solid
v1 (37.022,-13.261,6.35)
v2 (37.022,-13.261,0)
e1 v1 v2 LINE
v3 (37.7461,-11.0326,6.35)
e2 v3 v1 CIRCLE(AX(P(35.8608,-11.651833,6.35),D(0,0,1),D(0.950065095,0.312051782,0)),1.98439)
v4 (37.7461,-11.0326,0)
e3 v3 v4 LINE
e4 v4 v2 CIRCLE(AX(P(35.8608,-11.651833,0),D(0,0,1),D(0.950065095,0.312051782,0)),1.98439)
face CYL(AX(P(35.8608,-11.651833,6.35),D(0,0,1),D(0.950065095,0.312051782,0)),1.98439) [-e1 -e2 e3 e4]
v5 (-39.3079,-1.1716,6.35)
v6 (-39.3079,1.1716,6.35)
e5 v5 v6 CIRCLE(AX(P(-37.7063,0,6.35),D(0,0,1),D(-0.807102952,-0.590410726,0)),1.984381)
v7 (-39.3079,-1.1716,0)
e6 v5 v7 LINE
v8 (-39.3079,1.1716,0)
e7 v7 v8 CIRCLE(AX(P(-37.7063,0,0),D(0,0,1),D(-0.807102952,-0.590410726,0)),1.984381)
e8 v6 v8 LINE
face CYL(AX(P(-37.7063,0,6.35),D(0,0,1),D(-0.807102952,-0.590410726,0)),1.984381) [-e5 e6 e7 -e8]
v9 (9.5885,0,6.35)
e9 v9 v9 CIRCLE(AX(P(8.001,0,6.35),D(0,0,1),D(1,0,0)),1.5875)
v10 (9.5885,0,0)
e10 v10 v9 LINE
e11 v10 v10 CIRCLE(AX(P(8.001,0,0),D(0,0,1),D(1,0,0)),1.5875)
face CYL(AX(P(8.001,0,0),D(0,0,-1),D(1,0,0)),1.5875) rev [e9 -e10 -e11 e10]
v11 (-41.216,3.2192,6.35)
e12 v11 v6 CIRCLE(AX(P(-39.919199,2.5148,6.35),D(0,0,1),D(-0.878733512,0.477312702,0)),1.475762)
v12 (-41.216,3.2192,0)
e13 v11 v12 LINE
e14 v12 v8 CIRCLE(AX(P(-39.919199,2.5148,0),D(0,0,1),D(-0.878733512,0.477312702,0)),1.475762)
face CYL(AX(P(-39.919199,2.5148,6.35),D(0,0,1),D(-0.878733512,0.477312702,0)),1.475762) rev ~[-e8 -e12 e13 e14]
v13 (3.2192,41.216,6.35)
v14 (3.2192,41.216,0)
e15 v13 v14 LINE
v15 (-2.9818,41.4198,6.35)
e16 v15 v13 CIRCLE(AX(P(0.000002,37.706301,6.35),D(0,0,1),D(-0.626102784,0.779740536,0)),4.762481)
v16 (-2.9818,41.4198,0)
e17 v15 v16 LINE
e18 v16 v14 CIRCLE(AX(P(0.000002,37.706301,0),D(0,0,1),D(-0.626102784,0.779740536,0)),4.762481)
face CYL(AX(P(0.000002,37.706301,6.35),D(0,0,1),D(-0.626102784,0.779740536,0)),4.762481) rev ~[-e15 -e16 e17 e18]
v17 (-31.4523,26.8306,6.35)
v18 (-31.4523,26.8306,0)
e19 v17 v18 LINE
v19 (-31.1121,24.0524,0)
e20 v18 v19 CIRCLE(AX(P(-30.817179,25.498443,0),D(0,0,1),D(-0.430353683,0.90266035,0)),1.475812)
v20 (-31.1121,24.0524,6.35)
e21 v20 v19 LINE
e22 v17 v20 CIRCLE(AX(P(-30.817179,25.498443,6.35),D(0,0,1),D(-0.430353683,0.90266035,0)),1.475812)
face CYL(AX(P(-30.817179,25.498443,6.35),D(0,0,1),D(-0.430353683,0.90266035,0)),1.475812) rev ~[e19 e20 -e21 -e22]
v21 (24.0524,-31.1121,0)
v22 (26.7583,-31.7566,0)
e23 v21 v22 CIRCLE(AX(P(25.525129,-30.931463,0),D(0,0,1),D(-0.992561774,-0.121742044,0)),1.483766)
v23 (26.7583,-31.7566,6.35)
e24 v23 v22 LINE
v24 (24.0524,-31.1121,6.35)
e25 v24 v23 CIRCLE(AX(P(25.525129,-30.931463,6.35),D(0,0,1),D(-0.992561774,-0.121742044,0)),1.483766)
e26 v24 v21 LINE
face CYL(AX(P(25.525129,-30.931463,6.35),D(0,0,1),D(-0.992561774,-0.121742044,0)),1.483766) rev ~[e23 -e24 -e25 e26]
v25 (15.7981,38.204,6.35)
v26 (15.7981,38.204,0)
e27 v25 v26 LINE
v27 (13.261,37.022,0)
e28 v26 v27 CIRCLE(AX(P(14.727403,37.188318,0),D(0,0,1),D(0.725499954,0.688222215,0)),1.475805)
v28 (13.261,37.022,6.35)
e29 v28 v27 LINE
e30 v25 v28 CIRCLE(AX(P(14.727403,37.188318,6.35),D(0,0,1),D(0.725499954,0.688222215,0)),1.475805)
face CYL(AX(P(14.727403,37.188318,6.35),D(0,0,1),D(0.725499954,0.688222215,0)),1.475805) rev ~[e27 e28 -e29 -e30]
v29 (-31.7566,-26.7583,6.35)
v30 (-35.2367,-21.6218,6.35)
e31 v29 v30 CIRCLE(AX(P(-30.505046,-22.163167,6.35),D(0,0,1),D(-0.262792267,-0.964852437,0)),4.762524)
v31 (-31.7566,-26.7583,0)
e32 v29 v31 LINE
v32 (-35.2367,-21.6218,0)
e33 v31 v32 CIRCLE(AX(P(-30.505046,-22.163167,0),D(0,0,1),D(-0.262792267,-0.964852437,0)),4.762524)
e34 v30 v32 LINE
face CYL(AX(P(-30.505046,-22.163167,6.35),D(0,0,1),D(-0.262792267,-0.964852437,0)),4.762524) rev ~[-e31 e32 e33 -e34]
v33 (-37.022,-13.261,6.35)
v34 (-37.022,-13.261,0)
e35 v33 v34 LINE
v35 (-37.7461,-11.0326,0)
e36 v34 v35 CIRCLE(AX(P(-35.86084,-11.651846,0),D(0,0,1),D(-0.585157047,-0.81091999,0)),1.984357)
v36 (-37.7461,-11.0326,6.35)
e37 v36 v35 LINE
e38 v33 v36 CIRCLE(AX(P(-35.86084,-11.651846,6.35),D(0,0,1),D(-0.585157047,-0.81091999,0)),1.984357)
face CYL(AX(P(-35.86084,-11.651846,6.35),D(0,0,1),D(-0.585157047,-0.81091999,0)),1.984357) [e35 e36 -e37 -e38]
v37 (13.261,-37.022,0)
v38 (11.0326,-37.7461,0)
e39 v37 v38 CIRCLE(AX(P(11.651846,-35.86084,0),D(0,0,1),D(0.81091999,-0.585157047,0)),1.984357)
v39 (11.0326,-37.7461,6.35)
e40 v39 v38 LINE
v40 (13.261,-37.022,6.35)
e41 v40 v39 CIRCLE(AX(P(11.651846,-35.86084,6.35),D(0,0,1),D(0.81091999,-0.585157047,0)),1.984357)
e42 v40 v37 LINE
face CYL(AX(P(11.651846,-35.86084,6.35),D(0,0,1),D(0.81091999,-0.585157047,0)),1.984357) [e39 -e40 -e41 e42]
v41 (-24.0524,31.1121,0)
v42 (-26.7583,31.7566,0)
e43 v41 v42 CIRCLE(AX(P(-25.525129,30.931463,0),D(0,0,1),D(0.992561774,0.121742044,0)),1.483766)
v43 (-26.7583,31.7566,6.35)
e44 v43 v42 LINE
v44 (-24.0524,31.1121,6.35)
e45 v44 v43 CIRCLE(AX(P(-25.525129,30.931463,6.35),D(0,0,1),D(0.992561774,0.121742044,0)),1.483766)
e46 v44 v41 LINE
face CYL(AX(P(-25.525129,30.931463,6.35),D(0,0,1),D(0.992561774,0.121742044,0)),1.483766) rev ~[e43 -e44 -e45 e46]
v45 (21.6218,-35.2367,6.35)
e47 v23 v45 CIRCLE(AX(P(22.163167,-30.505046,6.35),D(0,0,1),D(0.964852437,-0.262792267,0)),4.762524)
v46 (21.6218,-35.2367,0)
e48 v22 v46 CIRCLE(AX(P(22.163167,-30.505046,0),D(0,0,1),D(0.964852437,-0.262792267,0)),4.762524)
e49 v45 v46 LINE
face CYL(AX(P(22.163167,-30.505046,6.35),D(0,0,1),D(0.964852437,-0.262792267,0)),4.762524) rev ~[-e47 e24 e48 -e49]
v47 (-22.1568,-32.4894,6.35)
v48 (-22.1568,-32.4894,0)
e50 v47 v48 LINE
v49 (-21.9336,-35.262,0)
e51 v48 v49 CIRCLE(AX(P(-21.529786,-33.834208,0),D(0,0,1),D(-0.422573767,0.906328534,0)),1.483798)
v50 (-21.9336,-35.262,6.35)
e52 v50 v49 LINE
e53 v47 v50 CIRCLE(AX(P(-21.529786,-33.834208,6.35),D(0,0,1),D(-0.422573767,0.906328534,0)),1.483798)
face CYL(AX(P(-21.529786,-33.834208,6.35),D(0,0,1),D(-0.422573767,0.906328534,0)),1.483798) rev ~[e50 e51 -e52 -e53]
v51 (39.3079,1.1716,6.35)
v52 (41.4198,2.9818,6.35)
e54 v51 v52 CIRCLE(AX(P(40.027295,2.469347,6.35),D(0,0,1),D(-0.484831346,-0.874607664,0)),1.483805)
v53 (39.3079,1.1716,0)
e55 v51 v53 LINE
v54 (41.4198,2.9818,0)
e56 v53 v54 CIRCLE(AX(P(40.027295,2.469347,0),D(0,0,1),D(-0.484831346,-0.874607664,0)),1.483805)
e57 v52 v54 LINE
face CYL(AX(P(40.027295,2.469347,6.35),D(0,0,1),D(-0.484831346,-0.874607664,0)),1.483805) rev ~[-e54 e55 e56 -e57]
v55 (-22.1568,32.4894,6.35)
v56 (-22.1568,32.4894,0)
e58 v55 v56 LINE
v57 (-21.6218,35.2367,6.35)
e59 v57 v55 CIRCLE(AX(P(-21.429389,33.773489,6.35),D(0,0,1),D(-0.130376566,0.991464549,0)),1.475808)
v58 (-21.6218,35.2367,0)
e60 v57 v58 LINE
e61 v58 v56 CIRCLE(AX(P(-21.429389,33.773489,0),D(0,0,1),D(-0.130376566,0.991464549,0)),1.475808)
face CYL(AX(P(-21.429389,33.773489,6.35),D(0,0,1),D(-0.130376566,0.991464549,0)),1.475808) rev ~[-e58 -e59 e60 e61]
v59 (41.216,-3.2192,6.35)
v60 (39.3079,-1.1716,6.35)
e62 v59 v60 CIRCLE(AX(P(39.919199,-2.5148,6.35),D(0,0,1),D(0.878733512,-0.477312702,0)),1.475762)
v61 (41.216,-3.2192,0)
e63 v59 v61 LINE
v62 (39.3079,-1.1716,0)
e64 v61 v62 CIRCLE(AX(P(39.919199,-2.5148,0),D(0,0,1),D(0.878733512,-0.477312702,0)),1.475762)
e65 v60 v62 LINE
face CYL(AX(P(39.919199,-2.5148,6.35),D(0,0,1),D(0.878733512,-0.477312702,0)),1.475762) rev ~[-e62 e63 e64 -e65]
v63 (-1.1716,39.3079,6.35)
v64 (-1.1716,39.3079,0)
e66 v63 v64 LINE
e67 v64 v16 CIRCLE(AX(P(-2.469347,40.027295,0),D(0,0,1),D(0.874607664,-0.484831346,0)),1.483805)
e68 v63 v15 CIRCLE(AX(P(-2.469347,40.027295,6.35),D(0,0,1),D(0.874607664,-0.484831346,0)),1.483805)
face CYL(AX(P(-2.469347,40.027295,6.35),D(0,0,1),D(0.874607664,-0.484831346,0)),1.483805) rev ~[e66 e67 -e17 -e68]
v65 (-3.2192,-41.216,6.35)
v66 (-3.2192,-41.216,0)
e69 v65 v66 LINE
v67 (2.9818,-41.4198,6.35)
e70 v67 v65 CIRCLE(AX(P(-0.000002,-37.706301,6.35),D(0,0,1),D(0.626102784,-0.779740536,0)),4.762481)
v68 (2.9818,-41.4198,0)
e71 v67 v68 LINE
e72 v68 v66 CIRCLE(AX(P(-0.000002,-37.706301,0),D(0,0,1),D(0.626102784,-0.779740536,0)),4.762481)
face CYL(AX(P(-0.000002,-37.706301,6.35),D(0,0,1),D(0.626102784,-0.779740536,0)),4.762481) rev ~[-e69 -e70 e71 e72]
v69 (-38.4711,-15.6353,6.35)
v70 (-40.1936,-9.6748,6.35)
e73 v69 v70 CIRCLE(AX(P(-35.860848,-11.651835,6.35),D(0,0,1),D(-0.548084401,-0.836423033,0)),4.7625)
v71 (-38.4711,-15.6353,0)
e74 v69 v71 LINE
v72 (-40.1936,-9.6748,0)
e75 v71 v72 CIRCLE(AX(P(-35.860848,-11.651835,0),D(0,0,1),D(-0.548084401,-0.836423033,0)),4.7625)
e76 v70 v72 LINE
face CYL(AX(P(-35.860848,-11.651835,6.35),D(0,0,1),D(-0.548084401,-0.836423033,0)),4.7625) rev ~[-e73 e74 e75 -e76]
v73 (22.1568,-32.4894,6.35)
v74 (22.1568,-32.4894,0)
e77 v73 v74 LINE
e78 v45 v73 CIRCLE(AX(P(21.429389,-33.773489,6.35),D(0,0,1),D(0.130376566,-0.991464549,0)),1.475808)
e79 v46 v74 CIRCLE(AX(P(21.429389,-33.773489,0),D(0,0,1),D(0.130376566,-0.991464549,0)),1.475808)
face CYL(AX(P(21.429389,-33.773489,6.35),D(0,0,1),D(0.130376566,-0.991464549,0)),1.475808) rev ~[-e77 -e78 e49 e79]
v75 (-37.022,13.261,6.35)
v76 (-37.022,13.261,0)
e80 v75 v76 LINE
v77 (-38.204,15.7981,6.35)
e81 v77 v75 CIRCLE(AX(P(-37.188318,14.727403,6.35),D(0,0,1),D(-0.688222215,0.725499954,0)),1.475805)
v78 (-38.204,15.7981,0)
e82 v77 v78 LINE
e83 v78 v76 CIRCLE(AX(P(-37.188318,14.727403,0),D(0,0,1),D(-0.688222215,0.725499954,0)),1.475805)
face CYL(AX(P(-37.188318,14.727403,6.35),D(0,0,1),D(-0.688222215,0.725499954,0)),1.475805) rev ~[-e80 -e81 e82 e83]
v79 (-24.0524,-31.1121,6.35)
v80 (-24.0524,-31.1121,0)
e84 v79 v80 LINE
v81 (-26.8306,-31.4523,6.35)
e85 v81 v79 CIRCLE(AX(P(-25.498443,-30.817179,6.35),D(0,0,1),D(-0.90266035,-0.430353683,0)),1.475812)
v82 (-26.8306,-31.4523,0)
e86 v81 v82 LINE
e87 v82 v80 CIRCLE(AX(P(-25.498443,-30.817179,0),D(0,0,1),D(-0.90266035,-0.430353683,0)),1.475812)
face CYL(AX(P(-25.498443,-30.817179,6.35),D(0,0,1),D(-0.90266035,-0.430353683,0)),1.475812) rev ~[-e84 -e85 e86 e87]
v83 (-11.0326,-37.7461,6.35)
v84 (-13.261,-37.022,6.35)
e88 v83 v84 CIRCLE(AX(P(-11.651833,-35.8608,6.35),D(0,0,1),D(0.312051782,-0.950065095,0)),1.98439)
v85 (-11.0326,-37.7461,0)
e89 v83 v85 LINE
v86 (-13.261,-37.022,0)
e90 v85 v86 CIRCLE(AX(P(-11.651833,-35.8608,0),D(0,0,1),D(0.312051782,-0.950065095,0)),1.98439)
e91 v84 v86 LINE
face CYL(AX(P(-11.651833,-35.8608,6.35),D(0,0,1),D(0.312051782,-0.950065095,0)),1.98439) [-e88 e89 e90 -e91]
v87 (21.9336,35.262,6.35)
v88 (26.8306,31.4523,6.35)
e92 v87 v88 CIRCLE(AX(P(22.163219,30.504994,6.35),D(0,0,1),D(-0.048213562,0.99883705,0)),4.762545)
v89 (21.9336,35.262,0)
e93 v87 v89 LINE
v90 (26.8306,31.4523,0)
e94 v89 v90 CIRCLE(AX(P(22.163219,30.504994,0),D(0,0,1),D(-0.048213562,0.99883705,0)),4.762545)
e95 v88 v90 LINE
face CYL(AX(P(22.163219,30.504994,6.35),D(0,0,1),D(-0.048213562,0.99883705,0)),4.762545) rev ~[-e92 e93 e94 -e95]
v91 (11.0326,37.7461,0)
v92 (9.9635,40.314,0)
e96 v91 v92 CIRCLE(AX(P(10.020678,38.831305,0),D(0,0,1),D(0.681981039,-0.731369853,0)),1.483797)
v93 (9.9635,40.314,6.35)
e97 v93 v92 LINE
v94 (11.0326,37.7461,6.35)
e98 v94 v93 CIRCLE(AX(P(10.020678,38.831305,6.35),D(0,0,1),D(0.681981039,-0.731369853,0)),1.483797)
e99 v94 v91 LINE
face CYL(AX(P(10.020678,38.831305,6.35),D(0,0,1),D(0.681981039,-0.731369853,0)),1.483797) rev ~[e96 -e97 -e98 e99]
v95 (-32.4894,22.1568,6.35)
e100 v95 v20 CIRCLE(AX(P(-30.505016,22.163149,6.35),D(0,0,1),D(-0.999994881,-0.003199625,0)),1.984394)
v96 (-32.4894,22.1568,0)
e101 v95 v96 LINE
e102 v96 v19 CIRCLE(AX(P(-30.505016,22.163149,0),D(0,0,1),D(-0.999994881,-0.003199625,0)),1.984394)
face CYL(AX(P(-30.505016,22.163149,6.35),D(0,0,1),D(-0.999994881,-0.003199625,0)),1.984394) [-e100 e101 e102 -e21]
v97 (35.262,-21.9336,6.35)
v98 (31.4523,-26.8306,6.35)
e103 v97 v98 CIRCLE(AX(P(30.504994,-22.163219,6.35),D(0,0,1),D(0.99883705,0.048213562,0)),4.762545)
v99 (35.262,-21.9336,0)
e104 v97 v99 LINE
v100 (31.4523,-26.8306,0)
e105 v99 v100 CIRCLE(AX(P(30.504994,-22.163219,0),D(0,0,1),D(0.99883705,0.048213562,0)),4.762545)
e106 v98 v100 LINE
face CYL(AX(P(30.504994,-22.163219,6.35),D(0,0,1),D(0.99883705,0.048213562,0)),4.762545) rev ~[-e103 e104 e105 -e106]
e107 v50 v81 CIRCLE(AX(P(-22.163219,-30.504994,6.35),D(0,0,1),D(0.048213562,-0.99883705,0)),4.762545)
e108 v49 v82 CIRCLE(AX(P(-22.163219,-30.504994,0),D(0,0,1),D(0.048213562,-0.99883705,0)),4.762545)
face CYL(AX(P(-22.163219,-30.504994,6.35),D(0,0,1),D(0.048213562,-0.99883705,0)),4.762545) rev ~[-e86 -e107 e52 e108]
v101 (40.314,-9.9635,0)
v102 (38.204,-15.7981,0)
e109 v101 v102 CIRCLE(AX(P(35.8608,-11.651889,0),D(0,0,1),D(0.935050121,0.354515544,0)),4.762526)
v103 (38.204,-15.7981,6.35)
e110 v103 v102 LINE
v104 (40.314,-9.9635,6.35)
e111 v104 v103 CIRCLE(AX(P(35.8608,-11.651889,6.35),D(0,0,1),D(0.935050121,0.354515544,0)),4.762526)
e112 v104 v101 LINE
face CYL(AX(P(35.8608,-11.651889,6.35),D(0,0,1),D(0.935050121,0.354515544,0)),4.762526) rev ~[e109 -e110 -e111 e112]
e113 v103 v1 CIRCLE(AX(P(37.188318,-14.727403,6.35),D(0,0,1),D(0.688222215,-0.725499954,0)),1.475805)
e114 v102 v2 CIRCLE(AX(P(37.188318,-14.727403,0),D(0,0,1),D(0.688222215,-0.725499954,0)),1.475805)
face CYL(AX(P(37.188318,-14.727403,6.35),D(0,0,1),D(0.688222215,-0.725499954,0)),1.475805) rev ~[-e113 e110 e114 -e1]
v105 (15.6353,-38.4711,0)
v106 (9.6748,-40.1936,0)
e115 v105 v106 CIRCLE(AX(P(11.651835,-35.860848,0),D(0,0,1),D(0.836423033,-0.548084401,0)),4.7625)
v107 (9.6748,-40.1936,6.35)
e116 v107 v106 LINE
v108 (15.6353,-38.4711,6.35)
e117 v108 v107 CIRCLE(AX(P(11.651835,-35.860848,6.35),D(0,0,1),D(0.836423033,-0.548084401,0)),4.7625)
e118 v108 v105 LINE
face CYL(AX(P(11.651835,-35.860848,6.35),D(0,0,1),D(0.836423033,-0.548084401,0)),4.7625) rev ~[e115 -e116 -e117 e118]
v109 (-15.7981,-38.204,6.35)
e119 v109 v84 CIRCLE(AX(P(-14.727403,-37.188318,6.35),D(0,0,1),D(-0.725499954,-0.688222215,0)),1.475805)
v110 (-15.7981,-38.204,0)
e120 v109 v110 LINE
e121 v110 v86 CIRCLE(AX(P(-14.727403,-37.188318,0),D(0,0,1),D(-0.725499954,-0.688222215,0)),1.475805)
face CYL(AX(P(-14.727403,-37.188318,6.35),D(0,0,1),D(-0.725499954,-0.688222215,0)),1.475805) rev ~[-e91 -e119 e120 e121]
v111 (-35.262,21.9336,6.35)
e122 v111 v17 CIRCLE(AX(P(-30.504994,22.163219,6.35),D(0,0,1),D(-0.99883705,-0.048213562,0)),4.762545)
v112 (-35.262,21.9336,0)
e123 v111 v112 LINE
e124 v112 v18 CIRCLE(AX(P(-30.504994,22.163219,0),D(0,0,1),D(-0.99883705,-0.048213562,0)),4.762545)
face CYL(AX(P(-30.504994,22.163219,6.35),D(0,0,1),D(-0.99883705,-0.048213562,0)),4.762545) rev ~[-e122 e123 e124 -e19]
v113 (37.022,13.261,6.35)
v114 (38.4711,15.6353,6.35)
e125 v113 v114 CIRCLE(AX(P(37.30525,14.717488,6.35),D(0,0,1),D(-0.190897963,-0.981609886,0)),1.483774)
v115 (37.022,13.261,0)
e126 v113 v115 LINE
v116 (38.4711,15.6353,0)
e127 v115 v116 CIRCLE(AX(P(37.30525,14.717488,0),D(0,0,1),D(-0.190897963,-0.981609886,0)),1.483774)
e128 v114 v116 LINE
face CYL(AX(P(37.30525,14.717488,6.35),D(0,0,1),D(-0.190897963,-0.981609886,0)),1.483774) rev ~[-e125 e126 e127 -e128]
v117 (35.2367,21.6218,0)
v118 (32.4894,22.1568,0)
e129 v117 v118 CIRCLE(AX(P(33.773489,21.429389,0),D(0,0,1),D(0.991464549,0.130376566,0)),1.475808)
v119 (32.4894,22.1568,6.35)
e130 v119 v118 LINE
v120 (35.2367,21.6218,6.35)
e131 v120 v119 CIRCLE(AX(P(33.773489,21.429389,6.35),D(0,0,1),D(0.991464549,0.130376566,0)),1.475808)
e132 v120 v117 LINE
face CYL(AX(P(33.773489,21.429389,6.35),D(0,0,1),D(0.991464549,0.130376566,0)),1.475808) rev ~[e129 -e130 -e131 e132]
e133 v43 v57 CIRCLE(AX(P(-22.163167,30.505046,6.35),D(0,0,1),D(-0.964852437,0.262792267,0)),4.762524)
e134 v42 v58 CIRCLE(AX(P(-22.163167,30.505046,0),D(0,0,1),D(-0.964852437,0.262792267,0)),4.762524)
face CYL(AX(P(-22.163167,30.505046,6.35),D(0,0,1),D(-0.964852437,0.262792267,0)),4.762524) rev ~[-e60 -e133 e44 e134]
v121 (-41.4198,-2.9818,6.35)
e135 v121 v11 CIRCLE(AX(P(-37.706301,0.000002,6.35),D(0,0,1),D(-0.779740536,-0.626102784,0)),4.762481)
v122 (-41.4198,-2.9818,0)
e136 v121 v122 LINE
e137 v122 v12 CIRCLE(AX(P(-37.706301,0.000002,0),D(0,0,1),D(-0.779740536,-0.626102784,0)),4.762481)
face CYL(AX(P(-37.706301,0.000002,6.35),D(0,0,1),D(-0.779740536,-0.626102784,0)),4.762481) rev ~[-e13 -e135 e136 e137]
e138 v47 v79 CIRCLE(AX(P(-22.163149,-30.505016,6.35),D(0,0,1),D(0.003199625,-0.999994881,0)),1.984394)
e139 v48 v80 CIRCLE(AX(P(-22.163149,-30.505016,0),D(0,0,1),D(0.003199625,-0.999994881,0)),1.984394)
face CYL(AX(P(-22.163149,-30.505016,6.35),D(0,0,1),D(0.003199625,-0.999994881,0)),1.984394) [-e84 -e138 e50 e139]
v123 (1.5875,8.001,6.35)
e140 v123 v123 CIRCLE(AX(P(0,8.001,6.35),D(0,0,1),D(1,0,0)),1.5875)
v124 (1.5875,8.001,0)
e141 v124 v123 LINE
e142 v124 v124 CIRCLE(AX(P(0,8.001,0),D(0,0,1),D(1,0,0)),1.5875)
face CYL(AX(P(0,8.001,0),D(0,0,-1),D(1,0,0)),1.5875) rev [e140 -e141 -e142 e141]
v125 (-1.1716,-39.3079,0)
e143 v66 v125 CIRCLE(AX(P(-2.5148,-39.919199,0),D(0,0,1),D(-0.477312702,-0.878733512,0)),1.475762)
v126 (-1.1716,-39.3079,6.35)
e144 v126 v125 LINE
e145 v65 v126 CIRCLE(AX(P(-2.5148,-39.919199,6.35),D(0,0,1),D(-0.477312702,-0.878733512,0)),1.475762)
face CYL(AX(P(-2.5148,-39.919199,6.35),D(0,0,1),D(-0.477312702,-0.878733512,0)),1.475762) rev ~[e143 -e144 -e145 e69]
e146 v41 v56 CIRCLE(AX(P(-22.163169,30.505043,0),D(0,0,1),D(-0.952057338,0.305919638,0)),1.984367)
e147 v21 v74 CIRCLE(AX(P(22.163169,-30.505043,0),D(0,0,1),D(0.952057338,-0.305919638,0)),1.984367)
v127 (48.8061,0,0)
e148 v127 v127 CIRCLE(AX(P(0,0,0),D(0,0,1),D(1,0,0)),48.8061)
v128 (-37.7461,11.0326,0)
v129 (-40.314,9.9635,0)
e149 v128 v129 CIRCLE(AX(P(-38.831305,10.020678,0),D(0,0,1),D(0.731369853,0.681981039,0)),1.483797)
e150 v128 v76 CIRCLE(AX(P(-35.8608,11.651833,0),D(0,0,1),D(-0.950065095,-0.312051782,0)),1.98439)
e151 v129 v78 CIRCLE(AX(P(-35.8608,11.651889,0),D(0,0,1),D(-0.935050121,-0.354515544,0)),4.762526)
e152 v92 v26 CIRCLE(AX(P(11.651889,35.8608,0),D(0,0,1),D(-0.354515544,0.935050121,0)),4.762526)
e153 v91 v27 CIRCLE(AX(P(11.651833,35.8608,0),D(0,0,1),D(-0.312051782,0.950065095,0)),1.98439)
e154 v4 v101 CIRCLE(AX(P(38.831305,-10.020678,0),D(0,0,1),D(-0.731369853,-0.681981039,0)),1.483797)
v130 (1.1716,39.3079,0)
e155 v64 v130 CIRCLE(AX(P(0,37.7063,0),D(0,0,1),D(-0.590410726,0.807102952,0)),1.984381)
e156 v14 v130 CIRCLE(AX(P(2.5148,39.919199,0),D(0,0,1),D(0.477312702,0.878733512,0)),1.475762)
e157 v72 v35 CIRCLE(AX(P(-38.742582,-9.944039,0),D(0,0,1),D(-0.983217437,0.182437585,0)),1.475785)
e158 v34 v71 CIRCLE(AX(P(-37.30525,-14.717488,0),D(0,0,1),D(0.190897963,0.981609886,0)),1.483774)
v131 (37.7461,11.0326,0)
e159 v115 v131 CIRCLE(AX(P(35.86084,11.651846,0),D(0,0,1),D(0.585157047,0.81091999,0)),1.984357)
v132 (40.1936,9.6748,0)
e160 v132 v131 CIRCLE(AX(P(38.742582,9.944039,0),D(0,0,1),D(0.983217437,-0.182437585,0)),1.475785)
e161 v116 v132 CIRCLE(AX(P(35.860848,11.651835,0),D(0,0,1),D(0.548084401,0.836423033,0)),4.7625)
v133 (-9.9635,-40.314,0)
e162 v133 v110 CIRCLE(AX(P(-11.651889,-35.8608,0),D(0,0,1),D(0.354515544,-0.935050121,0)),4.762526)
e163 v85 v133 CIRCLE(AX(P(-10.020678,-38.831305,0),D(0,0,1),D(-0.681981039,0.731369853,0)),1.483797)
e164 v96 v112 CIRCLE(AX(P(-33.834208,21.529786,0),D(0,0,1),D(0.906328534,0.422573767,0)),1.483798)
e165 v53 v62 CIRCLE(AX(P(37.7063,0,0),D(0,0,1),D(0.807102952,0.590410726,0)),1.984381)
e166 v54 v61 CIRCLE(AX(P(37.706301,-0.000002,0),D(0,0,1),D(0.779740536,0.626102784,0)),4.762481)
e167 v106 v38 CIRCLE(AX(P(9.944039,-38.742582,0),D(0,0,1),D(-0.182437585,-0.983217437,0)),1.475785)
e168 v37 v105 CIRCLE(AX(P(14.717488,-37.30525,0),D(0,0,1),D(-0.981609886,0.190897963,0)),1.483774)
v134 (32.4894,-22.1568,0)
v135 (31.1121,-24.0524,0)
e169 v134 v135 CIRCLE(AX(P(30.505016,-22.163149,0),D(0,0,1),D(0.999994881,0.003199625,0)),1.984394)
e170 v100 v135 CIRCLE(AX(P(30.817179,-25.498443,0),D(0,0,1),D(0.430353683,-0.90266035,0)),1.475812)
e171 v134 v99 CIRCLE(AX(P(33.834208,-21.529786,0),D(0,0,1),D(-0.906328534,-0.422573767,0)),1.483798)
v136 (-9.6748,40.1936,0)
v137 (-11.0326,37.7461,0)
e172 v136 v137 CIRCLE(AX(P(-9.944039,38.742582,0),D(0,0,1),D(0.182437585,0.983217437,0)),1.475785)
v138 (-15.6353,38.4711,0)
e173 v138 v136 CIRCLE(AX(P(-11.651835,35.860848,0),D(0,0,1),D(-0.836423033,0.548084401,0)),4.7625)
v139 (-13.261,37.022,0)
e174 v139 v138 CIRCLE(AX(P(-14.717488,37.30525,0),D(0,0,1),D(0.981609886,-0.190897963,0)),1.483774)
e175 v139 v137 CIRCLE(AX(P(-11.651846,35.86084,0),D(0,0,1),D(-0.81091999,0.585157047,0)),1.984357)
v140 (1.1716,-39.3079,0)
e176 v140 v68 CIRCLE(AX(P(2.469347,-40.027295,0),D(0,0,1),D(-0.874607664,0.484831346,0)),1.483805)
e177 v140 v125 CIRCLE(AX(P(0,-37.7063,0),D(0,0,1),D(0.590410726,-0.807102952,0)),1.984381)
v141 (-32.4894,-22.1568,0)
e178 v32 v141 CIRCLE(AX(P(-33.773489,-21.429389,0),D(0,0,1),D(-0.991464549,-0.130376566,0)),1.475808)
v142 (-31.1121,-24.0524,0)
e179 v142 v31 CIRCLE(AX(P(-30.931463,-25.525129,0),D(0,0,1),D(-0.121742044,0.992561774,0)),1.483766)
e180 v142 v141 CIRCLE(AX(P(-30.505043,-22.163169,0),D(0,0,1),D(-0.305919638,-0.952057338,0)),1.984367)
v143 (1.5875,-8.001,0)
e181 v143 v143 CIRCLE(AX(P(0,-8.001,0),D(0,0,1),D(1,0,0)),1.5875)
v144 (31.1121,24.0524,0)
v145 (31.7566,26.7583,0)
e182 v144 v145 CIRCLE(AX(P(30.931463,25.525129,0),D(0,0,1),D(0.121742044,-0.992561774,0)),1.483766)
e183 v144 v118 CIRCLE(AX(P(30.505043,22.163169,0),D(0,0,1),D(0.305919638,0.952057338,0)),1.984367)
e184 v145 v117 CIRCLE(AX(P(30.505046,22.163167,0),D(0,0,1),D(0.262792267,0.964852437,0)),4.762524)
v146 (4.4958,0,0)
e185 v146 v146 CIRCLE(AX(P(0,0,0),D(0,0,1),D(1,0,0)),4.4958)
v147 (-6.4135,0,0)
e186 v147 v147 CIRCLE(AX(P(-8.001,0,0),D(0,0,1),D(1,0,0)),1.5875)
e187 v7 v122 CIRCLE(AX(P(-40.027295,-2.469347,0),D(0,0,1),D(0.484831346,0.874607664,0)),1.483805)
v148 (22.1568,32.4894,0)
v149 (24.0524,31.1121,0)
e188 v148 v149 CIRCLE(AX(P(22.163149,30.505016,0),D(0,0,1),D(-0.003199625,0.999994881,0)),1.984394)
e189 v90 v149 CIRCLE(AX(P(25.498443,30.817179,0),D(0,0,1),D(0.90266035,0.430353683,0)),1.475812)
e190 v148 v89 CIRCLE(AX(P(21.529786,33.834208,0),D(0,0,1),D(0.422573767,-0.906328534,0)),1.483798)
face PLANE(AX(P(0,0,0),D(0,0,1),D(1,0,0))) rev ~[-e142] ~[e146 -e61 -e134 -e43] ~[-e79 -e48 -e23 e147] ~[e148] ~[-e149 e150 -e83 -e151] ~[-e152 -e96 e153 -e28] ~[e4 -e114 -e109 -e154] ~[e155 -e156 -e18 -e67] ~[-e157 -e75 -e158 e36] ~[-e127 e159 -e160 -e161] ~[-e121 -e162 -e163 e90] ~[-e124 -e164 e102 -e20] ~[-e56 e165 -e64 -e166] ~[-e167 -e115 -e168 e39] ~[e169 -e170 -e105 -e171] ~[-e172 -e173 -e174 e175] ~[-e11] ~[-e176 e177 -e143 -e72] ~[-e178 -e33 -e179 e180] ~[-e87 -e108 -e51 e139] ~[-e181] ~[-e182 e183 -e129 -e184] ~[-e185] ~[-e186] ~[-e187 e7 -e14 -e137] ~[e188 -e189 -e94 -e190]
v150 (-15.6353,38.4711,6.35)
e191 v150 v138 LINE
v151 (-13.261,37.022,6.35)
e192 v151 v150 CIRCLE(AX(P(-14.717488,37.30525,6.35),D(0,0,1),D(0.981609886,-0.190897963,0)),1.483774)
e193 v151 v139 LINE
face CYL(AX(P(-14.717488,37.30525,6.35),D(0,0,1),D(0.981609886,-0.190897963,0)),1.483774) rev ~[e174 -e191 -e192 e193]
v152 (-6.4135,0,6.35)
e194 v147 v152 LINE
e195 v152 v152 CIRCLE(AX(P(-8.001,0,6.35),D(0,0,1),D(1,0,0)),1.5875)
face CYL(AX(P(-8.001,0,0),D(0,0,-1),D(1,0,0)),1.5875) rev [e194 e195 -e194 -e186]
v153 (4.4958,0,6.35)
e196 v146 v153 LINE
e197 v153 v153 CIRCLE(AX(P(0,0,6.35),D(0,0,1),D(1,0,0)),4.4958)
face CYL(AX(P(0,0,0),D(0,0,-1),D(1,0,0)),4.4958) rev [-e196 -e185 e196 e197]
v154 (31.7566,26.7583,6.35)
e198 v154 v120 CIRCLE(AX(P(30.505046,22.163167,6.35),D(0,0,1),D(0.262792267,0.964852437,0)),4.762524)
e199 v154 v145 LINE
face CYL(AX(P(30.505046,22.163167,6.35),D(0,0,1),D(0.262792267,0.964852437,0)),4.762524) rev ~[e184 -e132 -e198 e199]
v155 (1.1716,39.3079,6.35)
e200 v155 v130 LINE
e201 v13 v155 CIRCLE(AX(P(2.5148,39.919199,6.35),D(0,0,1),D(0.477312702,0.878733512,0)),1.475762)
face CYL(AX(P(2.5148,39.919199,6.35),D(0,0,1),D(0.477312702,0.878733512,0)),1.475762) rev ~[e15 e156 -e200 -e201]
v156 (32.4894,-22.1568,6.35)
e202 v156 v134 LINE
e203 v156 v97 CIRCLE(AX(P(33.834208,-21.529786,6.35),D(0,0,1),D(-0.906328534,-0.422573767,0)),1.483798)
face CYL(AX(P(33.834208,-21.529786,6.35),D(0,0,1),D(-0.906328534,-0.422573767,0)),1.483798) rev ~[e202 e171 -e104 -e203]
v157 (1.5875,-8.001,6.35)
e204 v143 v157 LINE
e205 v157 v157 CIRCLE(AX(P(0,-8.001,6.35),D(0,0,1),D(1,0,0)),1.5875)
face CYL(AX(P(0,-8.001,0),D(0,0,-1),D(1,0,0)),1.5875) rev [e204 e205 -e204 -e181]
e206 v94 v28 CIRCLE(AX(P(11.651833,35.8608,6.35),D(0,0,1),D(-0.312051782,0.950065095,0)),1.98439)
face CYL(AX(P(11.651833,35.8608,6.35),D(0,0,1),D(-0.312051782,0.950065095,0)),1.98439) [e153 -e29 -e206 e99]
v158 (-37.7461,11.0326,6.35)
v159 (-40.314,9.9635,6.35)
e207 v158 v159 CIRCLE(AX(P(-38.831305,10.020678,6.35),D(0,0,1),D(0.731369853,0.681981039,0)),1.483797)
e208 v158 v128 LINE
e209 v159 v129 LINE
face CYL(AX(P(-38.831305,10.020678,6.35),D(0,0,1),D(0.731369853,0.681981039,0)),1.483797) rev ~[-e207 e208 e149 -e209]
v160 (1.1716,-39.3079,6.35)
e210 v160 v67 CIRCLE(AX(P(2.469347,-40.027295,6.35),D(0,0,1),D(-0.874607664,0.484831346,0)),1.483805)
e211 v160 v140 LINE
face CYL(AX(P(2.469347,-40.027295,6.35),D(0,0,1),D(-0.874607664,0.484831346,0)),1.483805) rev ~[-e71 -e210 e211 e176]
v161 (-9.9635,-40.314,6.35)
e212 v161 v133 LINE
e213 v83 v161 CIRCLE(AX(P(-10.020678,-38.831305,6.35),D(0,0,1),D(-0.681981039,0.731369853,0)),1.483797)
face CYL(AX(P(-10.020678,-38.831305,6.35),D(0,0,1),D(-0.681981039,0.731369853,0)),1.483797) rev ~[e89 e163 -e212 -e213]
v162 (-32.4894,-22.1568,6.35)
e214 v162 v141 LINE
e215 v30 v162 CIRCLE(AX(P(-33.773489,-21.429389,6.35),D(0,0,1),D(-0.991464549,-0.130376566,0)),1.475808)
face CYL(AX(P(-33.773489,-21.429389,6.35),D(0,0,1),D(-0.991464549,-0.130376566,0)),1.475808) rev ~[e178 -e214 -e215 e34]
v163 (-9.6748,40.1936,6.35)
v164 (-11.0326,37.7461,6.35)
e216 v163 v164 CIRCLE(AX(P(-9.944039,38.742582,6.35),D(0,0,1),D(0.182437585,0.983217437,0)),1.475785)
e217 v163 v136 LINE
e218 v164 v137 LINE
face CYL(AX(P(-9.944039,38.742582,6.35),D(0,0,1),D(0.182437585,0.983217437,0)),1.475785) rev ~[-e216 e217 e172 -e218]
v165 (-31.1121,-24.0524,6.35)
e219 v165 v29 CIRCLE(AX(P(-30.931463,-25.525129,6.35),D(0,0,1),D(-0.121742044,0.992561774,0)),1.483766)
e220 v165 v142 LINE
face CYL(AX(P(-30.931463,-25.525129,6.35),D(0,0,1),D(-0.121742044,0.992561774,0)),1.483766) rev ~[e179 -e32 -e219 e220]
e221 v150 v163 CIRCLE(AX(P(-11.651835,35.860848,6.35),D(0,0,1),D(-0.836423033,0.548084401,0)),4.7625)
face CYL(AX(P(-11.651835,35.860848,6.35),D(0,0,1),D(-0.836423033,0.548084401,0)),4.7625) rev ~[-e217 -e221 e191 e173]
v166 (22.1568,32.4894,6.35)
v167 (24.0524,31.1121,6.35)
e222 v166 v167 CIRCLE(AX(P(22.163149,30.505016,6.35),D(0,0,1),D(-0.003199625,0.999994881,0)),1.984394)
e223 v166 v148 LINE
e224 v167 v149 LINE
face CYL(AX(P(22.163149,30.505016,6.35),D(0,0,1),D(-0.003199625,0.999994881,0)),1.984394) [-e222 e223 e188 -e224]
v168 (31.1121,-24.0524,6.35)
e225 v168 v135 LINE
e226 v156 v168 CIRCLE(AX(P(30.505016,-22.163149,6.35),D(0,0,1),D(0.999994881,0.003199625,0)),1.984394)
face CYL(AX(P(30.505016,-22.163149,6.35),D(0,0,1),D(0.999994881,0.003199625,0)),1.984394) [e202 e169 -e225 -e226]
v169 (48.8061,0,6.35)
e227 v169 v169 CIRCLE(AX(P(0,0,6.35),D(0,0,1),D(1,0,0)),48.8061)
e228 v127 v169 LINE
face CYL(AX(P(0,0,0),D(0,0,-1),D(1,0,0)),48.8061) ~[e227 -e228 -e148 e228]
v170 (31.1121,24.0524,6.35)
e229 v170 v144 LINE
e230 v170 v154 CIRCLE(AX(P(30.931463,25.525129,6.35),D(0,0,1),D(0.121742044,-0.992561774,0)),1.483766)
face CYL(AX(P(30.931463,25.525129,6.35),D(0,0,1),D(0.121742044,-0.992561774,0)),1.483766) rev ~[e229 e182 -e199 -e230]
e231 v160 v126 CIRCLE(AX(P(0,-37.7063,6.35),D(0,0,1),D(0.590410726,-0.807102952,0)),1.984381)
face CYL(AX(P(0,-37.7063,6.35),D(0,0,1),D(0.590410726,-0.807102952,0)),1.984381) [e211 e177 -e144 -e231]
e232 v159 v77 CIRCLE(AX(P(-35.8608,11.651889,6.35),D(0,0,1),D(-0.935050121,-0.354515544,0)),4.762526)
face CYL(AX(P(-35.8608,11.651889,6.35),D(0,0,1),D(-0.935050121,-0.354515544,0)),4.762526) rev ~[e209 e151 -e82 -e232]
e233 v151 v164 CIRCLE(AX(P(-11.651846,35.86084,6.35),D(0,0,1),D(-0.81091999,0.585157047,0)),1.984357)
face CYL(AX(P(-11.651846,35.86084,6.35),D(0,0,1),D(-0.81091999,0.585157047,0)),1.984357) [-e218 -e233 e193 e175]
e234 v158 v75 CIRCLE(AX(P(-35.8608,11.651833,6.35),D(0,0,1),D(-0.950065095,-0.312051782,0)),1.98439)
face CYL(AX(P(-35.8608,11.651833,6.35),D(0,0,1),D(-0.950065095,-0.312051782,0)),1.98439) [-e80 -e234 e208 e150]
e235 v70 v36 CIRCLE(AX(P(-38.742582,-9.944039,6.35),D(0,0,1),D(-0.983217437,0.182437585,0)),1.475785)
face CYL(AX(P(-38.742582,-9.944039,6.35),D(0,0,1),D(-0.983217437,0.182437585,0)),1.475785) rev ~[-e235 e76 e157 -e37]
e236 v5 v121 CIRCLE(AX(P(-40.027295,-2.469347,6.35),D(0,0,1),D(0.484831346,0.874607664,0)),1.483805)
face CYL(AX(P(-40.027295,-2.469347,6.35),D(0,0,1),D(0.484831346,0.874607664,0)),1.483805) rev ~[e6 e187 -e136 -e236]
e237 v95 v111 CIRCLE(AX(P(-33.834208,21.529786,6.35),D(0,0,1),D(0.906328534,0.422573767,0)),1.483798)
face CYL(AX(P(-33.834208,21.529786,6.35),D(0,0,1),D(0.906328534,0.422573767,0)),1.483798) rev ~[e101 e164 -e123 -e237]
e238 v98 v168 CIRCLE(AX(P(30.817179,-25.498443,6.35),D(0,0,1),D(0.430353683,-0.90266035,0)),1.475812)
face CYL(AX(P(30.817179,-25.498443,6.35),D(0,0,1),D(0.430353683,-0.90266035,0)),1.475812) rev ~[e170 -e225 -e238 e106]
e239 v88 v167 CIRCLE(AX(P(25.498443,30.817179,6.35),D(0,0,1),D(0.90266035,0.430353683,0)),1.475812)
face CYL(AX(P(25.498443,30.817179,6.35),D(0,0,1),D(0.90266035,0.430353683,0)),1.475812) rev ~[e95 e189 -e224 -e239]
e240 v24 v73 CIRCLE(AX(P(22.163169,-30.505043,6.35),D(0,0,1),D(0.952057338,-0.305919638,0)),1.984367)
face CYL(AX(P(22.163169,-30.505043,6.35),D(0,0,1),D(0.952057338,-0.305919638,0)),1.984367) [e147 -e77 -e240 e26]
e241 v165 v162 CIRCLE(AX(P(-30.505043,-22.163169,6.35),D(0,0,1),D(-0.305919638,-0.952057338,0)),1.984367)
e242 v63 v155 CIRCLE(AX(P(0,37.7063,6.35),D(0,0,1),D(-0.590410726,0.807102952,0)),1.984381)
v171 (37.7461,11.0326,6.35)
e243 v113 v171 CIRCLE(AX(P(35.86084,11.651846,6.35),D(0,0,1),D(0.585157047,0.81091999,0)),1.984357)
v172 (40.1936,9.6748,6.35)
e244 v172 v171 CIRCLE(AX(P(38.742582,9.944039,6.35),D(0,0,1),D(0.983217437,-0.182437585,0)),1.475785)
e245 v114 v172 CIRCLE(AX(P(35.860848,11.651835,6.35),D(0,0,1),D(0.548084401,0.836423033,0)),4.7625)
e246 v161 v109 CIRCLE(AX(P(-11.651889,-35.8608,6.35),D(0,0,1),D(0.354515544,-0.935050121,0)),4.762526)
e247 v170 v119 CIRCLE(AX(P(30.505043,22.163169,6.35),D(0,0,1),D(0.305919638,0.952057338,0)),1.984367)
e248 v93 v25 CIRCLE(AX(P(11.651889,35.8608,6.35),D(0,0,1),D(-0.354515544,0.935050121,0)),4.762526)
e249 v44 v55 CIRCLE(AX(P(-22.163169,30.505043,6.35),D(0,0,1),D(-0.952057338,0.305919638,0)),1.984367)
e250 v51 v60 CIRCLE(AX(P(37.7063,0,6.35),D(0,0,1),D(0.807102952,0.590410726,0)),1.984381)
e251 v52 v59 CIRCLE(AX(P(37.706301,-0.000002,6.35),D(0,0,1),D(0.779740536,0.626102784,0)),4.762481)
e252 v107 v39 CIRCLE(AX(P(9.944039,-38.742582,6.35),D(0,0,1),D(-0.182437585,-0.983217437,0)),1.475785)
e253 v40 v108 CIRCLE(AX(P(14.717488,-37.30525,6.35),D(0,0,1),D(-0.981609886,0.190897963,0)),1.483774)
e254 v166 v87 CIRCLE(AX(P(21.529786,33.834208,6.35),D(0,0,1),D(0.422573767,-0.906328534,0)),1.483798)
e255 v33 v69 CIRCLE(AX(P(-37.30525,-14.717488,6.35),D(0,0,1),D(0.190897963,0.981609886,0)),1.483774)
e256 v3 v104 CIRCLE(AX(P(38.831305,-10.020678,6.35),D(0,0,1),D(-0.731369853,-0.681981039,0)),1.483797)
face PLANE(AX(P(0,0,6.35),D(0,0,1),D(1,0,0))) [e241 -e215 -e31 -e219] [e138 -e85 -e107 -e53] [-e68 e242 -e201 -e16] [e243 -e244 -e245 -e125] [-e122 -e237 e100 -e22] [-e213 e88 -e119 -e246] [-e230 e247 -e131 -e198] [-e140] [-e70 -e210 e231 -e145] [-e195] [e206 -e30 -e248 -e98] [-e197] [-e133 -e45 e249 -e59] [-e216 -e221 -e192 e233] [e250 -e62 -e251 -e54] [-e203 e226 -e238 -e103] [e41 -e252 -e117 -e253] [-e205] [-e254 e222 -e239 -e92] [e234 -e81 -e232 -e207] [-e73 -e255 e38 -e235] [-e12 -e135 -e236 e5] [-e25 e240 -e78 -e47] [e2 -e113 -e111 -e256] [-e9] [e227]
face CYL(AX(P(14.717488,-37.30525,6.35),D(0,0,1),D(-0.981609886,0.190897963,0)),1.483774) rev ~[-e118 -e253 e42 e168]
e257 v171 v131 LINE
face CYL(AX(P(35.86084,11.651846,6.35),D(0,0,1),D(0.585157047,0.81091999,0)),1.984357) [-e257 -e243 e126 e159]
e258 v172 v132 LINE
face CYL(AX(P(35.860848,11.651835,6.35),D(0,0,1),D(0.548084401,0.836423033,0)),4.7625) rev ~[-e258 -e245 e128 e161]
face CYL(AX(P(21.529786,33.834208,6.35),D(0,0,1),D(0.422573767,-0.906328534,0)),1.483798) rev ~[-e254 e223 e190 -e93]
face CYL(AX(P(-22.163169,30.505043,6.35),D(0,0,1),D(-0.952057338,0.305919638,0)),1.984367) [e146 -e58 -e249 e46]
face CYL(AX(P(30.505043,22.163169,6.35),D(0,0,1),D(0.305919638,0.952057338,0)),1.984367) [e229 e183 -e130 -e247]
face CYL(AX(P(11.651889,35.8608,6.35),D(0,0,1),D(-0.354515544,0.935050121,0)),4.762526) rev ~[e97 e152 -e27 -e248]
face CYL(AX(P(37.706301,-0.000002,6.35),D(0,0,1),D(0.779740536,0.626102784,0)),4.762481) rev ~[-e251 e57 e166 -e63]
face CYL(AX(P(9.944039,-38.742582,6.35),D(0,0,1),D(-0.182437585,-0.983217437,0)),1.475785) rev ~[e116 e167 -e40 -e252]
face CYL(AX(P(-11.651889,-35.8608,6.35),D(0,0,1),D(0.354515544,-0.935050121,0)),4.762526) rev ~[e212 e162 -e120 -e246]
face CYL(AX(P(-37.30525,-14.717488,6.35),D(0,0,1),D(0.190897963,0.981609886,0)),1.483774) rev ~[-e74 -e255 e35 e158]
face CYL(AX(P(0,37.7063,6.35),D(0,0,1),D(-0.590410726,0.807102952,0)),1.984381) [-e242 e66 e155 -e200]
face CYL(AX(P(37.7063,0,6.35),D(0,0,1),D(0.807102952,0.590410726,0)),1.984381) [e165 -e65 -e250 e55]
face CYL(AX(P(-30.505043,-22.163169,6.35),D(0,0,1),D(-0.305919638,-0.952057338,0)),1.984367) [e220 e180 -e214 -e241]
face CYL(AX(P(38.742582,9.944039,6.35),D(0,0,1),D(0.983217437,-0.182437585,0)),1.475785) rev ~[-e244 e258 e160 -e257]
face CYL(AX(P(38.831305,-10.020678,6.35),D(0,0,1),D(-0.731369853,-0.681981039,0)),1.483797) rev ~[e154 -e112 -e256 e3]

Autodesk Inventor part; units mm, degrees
ref_plane "YZ Plane" through (0, 0, 0) normal (1, 0, 0) x (0, 1, 0)
ref_plane "XZ Plane" through (0, 0, 0) normal (0, 1, 0) x (-1, 0, 0)
ref_plane "XY Plane" through (0, 0, 0) normal (0, 0, 1) x (1, 0, 0)
sketch "Sketch1" plane through (0, 0, 0) normal (0, 0, 1) x (1, 0, 0)
  circle A0 centre (0, 0) radius 48.8061
  circle A1 centre (0, 0) radius 4.4958
  circle A2 centre (0, 8.001) radius 1.5875
  circle A3 centre (-8.001, 0) radius 1.5875
  circle A4 centre (0, -8.001) radius 1.5875
  circle A5 centre (8.001, 0) radius 1.5875
  dimension "d0" = 97.6122
  dimension "d1" = 8.9916
  dimension "d3" = 3.175
  dimension "d6" = 360
extrude "Extrusion1" add sketch "Sketch1" along normal blind 6.35
sketch "Sketch2" plane through (0, 0, 6.35) normal (0, 0, 1) x (1, 0, 0)
  circle A0 centre (0, 0) radius 48.8061 projected
  arc A1 (-1.1716, 39.3079) -> (1.1716, 39.3079) centre (0, 37.7063) ccw
  arc A2 (-2.9818, 41.4198) -> (3.2192, 41.216) centre (0, 37.7063) ccw
  arc A3 (-1.1716, 39.3079) -> (-2.9818, 41.4198) centre (-2.4693, 40.0273) ccw
  arc A4 (3.2192, 41.216) -> (1.1716, 39.3079) centre (2.5148, 39.9192) ccw
  arc A5 (-15.6353, 38.4711) -> (-9.6748, 40.1936) centre (-11.6519, 35.8608) ccw
  arc A6 (-13.261, 37.022) -> (-11.0326, 37.7461) centre (-11.6519, 35.8608) ccw
  arc A7 (-9.6748, 40.1936) -> (-11.0326, 37.7461) centre (-9.944, 38.7425) ccw
  arc A8 (-13.261, 37.022) -> (-15.6353, 38.4711) centre (-14.7176, 37.3052) ccw
  arc A9 (-26.7583, 31.7566) -> (-21.6218, 35.2367) centre (-22.1632, 30.505) ccw
  arc A10 (-24.0524, 31.1121) -> (-22.1568, 32.4894) centre (-22.1632, 30.505) ccw
  arc A11 (-21.6218, 35.2367) -> (-22.1568, 32.4894) centre (-21.4294, 33.7735) ccw
  arc A12 (-24.0524, 31.1121) -> (-26.7583, 31.7566) centre (-25.5252, 30.9314) ccw
  arc A13 (-35.262, 21.9336) -> (-31.4523, 26.8306) centre (-30.505, 22.1632) ccw
  arc A14 (-32.4894, 22.1568) -> (-31.1121, 24.0524) centre (-30.505, 22.1632) ccw
  arc A15 (-31.4523, 26.8306) -> (-31.1121, 24.0524) centre (-30.8171, 25.4984) ccw
  arc A16 (-32.4894, 22.1568) -> (-35.262, 21.9336) centre (-33.8342, 21.5298) ccw
  arc A17 (-40.314, 9.9635) -> (-38.204, 15.7981) centre (-35.8608, 11.6519) ccw
  arc A18 (-37.7461, 11.0326) -> (-37.022, 13.261) centre (-35.8608, 11.6519) ccw
  arc A19 (-38.204, 15.7981) -> (-37.022, 13.261) centre (-37.1883, 14.7274) ccw
  arc A20 (-37.7461, 11.0326) -> (-40.314, 9.9635) centre (-38.8313, 10.0207) ccw
  arc A21 (-41.4198, -2.9818) -> (-41.216, 3.2192) centre (-37.7063, 0) ccw
  arc A22 (-39.3079, -1.1716) -> (-39.3079, 1.1716) centre (-37.7063, 0) ccw
  arc A23 (-41.216, 3.2192) -> (-39.3079, 1.1716) centre (-39.9192, 2.5148) ccw
  arc A24 (-39.3079, -1.1716) -> (-41.4198, -2.9818) centre (-40.0273, -2.4693) ccw
  arc A25 (-38.4711, -15.6353) -> (-40.1936, -9.6748) centre (-35.8608, -11.6519) ccw
  arc A26 (-37.022, -13.261) -> (-37.7461, -11.0326) centre (-35.8608, -11.6519) ccw
  arc A27 (-40.1936, -9.6748) -> (-37.7461, -11.0326) centre (-38.7425, -9.944) ccw
  arc A28 (-37.022, -13.261) -> (-38.4711, -15.6353) centre (-37.3052, -14.7176) ccw
  arc A29 (-31.7566, -26.7583) -> (-35.2367, -21.6218) centre (-30.505, -22.1632) ccw
  arc A30 (-31.1121, -24.0524) -> (-32.4894, -22.1568) centre (-30.505, -22.1632) ccw
  arc A31 (-35.2367, -21.6218) -> (-32.4894, -22.1568) centre (-33.7735, -21.4294) ccw
  arc A32 (-31.1121, -24.0524) -> (-31.7566, -26.7583) centre (-30.9314, -25.5252) ccw
  arc A33 (-21.9336, -35.262) -> (-26.8306, -31.4523) centre (-22.1632, -30.505) ccw
  arc A34 (-22.1568, -32.4894) -> (-24.0524, -31.1121) centre (-22.1632, -30.505) ccw
  arc A35 (-26.8306, -31.4523) -> (-24.0524, -31.1121) centre (-25.4984, -30.8171) ccw
  arc A36 (-22.1568, -32.4894) -> (-21.9336, -35.262) centre (-21.5298, -33.8342) ccw
  arc A37 (-9.9635, -40.314) -> (-15.7981, -38.204) centre (-11.6519, -35.8608) ccw
  arc A38 (-11.0326, -37.7461) -> (-13.261, -37.022) centre (-11.6519, -35.8608) ccw
  arc A39 (-15.7981, -38.204) -> (-13.261, -37.022) centre (-14.7274, -37.1883) ccw
  arc A40 (-11.0326, -37.7461) -> (-9.9635, -40.314) centre (-10.0207, -38.8313) ccw
  arc A41 (2.9818, -41.4198) -> (-3.2192, -41.216) centre (0, -37.7063) ccw
  arc A42 (1.1716, -39.3079) -> (-1.1716, -39.3079) centre (0, -37.7063) ccw
  arc A43 (-3.2192, -41.216) -> (-1.1716, -39.3079) centre (-2.5148, -39.9192) ccw
  arc A44 (1.1716, -39.3079) -> (2.9818, -41.4198) centre (2.4693, -40.0273) ccw
  arc A45 (15.6353, -38.4711) -> (9.6748, -40.1936) centre (11.6519, -35.8608) ccw
  arc A46 (13.261, -37.022) -> (11.0326, -37.7461) centre (11.6519, -35.8608) ccw
  arc A47 (9.6748, -40.1936) -> (11.0326, -37.7461) centre (9.944, -38.7425) ccw
  arc A48 (13.261, -37.022) -> (15.6353, -38.4711) centre (14.7176, -37.3052) ccw
  arc A49 (26.7583, -31.7566) -> (21.6218, -35.2367) centre (22.1632, -30.505) ccw
  arc A50 (24.0524, -31.1121) -> (22.1568, -32.4894) centre (22.1632, -30.505) ccw
  arc A51 (21.6218, -35.2367) -> (22.1568, -32.4894) centre (21.4294, -33.7735) ccw
  arc A52 (24.0524, -31.1121) -> (26.7583, -31.7566) centre (25.5252, -30.9314) ccw
  arc A53 (35.262, -21.9336) -> (31.4523, -26.8306) centre (30.505, -22.1632) ccw
  arc A54 (32.4894, -22.1568) -> (31.1121, -24.0524) centre (30.505, -22.1632) ccw
  arc A55 (31.4523, -26.8306) -> (31.1121, -24.0524) centre (30.8171, -25.4984) ccw
  arc A56 (32.4894, -22.1568) -> (35.262, -21.9336) centre (33.8342, -21.5298) ccw
  arc A57 (40.314, -9.9635) -> (38.204, -15.7981) centre (35.8608, -11.6519) ccw
  arc A58 (37.7461, -11.0326) -> (37.022, -13.261) centre (35.8608, -11.6519) ccw
  arc A59 (38.204, -15.7981) -> (37.022, -13.261) centre (37.1883, -14.7274) ccw
  arc A60 (37.7461, -11.0326) -> (40.314, -9.9635) centre (38.8313, -10.0207) ccw
  arc A61 (41.4198, 2.9818) -> (41.216, -3.2192) centre (37.7063, 0) ccw
  arc A62 (39.3079, 1.1716) -> (39.3079, -1.1716) centre (37.7063, 0) ccw
  arc A63 (41.216, -3.2192) -> (39.3079, -1.1716) centre (39.9192, -2.5148) ccw
  arc A64 (39.3079, 1.1716) -> (41.4198, 2.9818) centre (40.0273, 2.4693) ccw
  arc A65 (38.4711, 15.6353) -> (40.1936, 9.6748) centre (35.8608, 11.6519) ccw
  arc A66 (37.022, 13.261) -> (37.7461, 11.0326) centre (35.8608, 11.6519) ccw
  arc A67 (40.1936, 9.6748) -> (37.7461, 11.0326) centre (38.7425, 9.944) ccw
  arc A68 (37.022, 13.261) -> (38.4711, 15.6353) centre (37.3052, 14.7176) ccw
  arc A69 (31.7566, 26.7583) -> (35.2367, 21.6218) centre (30.505, 22.1632) ccw
  arc A70 (31.1121, 24.0524) -> (32.4894, 22.1568) centre (30.505, 22.1632) ccw
  arc A71 (35.2367, 21.6218) -> (32.4894, 22.1568) centre (33.7735, 21.4294) ccw
  arc A72 (31.1121, 24.0524) -> (31.7566, 26.7583) centre (30.9314, 25.5252) ccw
  arc A73 (21.9336, 35.262) -> (26.8306, 31.4523) centre (22.1632, 30.505) ccw
  arc A74 (22.1568, 32.4894) -> (24.0524, 31.1121) centre (22.1632, 30.505) ccw
  arc A75 (26.8306, 31.4523) -> (24.0524, 31.1121) centre (25.4984, 30.8171) ccw
  arc A76 (22.1568, 32.4894) -> (21.9336, 35.262) centre (21.5298, 33.8342) ccw
  arc A77 (9.9635, 40.314) -> (15.7981, 38.204) centre (11.6519, 35.8608) ccw
  arc A78 (11.0326, 37.7461) -> (13.261, 37.022) centre (11.6519, 35.8608) ccw
  arc A79 (15.7981, 38.204) -> (13.261, 37.022) centre (14.7274, 37.1883) ccw
  arc A80 (11.0326, 37.7461) -> (9.9635, 40.314) centre (10.0207, 38.8313) ccw
  point P0 (0, 45.9646)
  dimension "d38" = 360
extrude "Extrusion2" [suppressed]
extrude "Extrusion3" cut sketch "Sketch2" against normal blind 6.35 keep common part
properties part number "Ball Launcher Wheel"
